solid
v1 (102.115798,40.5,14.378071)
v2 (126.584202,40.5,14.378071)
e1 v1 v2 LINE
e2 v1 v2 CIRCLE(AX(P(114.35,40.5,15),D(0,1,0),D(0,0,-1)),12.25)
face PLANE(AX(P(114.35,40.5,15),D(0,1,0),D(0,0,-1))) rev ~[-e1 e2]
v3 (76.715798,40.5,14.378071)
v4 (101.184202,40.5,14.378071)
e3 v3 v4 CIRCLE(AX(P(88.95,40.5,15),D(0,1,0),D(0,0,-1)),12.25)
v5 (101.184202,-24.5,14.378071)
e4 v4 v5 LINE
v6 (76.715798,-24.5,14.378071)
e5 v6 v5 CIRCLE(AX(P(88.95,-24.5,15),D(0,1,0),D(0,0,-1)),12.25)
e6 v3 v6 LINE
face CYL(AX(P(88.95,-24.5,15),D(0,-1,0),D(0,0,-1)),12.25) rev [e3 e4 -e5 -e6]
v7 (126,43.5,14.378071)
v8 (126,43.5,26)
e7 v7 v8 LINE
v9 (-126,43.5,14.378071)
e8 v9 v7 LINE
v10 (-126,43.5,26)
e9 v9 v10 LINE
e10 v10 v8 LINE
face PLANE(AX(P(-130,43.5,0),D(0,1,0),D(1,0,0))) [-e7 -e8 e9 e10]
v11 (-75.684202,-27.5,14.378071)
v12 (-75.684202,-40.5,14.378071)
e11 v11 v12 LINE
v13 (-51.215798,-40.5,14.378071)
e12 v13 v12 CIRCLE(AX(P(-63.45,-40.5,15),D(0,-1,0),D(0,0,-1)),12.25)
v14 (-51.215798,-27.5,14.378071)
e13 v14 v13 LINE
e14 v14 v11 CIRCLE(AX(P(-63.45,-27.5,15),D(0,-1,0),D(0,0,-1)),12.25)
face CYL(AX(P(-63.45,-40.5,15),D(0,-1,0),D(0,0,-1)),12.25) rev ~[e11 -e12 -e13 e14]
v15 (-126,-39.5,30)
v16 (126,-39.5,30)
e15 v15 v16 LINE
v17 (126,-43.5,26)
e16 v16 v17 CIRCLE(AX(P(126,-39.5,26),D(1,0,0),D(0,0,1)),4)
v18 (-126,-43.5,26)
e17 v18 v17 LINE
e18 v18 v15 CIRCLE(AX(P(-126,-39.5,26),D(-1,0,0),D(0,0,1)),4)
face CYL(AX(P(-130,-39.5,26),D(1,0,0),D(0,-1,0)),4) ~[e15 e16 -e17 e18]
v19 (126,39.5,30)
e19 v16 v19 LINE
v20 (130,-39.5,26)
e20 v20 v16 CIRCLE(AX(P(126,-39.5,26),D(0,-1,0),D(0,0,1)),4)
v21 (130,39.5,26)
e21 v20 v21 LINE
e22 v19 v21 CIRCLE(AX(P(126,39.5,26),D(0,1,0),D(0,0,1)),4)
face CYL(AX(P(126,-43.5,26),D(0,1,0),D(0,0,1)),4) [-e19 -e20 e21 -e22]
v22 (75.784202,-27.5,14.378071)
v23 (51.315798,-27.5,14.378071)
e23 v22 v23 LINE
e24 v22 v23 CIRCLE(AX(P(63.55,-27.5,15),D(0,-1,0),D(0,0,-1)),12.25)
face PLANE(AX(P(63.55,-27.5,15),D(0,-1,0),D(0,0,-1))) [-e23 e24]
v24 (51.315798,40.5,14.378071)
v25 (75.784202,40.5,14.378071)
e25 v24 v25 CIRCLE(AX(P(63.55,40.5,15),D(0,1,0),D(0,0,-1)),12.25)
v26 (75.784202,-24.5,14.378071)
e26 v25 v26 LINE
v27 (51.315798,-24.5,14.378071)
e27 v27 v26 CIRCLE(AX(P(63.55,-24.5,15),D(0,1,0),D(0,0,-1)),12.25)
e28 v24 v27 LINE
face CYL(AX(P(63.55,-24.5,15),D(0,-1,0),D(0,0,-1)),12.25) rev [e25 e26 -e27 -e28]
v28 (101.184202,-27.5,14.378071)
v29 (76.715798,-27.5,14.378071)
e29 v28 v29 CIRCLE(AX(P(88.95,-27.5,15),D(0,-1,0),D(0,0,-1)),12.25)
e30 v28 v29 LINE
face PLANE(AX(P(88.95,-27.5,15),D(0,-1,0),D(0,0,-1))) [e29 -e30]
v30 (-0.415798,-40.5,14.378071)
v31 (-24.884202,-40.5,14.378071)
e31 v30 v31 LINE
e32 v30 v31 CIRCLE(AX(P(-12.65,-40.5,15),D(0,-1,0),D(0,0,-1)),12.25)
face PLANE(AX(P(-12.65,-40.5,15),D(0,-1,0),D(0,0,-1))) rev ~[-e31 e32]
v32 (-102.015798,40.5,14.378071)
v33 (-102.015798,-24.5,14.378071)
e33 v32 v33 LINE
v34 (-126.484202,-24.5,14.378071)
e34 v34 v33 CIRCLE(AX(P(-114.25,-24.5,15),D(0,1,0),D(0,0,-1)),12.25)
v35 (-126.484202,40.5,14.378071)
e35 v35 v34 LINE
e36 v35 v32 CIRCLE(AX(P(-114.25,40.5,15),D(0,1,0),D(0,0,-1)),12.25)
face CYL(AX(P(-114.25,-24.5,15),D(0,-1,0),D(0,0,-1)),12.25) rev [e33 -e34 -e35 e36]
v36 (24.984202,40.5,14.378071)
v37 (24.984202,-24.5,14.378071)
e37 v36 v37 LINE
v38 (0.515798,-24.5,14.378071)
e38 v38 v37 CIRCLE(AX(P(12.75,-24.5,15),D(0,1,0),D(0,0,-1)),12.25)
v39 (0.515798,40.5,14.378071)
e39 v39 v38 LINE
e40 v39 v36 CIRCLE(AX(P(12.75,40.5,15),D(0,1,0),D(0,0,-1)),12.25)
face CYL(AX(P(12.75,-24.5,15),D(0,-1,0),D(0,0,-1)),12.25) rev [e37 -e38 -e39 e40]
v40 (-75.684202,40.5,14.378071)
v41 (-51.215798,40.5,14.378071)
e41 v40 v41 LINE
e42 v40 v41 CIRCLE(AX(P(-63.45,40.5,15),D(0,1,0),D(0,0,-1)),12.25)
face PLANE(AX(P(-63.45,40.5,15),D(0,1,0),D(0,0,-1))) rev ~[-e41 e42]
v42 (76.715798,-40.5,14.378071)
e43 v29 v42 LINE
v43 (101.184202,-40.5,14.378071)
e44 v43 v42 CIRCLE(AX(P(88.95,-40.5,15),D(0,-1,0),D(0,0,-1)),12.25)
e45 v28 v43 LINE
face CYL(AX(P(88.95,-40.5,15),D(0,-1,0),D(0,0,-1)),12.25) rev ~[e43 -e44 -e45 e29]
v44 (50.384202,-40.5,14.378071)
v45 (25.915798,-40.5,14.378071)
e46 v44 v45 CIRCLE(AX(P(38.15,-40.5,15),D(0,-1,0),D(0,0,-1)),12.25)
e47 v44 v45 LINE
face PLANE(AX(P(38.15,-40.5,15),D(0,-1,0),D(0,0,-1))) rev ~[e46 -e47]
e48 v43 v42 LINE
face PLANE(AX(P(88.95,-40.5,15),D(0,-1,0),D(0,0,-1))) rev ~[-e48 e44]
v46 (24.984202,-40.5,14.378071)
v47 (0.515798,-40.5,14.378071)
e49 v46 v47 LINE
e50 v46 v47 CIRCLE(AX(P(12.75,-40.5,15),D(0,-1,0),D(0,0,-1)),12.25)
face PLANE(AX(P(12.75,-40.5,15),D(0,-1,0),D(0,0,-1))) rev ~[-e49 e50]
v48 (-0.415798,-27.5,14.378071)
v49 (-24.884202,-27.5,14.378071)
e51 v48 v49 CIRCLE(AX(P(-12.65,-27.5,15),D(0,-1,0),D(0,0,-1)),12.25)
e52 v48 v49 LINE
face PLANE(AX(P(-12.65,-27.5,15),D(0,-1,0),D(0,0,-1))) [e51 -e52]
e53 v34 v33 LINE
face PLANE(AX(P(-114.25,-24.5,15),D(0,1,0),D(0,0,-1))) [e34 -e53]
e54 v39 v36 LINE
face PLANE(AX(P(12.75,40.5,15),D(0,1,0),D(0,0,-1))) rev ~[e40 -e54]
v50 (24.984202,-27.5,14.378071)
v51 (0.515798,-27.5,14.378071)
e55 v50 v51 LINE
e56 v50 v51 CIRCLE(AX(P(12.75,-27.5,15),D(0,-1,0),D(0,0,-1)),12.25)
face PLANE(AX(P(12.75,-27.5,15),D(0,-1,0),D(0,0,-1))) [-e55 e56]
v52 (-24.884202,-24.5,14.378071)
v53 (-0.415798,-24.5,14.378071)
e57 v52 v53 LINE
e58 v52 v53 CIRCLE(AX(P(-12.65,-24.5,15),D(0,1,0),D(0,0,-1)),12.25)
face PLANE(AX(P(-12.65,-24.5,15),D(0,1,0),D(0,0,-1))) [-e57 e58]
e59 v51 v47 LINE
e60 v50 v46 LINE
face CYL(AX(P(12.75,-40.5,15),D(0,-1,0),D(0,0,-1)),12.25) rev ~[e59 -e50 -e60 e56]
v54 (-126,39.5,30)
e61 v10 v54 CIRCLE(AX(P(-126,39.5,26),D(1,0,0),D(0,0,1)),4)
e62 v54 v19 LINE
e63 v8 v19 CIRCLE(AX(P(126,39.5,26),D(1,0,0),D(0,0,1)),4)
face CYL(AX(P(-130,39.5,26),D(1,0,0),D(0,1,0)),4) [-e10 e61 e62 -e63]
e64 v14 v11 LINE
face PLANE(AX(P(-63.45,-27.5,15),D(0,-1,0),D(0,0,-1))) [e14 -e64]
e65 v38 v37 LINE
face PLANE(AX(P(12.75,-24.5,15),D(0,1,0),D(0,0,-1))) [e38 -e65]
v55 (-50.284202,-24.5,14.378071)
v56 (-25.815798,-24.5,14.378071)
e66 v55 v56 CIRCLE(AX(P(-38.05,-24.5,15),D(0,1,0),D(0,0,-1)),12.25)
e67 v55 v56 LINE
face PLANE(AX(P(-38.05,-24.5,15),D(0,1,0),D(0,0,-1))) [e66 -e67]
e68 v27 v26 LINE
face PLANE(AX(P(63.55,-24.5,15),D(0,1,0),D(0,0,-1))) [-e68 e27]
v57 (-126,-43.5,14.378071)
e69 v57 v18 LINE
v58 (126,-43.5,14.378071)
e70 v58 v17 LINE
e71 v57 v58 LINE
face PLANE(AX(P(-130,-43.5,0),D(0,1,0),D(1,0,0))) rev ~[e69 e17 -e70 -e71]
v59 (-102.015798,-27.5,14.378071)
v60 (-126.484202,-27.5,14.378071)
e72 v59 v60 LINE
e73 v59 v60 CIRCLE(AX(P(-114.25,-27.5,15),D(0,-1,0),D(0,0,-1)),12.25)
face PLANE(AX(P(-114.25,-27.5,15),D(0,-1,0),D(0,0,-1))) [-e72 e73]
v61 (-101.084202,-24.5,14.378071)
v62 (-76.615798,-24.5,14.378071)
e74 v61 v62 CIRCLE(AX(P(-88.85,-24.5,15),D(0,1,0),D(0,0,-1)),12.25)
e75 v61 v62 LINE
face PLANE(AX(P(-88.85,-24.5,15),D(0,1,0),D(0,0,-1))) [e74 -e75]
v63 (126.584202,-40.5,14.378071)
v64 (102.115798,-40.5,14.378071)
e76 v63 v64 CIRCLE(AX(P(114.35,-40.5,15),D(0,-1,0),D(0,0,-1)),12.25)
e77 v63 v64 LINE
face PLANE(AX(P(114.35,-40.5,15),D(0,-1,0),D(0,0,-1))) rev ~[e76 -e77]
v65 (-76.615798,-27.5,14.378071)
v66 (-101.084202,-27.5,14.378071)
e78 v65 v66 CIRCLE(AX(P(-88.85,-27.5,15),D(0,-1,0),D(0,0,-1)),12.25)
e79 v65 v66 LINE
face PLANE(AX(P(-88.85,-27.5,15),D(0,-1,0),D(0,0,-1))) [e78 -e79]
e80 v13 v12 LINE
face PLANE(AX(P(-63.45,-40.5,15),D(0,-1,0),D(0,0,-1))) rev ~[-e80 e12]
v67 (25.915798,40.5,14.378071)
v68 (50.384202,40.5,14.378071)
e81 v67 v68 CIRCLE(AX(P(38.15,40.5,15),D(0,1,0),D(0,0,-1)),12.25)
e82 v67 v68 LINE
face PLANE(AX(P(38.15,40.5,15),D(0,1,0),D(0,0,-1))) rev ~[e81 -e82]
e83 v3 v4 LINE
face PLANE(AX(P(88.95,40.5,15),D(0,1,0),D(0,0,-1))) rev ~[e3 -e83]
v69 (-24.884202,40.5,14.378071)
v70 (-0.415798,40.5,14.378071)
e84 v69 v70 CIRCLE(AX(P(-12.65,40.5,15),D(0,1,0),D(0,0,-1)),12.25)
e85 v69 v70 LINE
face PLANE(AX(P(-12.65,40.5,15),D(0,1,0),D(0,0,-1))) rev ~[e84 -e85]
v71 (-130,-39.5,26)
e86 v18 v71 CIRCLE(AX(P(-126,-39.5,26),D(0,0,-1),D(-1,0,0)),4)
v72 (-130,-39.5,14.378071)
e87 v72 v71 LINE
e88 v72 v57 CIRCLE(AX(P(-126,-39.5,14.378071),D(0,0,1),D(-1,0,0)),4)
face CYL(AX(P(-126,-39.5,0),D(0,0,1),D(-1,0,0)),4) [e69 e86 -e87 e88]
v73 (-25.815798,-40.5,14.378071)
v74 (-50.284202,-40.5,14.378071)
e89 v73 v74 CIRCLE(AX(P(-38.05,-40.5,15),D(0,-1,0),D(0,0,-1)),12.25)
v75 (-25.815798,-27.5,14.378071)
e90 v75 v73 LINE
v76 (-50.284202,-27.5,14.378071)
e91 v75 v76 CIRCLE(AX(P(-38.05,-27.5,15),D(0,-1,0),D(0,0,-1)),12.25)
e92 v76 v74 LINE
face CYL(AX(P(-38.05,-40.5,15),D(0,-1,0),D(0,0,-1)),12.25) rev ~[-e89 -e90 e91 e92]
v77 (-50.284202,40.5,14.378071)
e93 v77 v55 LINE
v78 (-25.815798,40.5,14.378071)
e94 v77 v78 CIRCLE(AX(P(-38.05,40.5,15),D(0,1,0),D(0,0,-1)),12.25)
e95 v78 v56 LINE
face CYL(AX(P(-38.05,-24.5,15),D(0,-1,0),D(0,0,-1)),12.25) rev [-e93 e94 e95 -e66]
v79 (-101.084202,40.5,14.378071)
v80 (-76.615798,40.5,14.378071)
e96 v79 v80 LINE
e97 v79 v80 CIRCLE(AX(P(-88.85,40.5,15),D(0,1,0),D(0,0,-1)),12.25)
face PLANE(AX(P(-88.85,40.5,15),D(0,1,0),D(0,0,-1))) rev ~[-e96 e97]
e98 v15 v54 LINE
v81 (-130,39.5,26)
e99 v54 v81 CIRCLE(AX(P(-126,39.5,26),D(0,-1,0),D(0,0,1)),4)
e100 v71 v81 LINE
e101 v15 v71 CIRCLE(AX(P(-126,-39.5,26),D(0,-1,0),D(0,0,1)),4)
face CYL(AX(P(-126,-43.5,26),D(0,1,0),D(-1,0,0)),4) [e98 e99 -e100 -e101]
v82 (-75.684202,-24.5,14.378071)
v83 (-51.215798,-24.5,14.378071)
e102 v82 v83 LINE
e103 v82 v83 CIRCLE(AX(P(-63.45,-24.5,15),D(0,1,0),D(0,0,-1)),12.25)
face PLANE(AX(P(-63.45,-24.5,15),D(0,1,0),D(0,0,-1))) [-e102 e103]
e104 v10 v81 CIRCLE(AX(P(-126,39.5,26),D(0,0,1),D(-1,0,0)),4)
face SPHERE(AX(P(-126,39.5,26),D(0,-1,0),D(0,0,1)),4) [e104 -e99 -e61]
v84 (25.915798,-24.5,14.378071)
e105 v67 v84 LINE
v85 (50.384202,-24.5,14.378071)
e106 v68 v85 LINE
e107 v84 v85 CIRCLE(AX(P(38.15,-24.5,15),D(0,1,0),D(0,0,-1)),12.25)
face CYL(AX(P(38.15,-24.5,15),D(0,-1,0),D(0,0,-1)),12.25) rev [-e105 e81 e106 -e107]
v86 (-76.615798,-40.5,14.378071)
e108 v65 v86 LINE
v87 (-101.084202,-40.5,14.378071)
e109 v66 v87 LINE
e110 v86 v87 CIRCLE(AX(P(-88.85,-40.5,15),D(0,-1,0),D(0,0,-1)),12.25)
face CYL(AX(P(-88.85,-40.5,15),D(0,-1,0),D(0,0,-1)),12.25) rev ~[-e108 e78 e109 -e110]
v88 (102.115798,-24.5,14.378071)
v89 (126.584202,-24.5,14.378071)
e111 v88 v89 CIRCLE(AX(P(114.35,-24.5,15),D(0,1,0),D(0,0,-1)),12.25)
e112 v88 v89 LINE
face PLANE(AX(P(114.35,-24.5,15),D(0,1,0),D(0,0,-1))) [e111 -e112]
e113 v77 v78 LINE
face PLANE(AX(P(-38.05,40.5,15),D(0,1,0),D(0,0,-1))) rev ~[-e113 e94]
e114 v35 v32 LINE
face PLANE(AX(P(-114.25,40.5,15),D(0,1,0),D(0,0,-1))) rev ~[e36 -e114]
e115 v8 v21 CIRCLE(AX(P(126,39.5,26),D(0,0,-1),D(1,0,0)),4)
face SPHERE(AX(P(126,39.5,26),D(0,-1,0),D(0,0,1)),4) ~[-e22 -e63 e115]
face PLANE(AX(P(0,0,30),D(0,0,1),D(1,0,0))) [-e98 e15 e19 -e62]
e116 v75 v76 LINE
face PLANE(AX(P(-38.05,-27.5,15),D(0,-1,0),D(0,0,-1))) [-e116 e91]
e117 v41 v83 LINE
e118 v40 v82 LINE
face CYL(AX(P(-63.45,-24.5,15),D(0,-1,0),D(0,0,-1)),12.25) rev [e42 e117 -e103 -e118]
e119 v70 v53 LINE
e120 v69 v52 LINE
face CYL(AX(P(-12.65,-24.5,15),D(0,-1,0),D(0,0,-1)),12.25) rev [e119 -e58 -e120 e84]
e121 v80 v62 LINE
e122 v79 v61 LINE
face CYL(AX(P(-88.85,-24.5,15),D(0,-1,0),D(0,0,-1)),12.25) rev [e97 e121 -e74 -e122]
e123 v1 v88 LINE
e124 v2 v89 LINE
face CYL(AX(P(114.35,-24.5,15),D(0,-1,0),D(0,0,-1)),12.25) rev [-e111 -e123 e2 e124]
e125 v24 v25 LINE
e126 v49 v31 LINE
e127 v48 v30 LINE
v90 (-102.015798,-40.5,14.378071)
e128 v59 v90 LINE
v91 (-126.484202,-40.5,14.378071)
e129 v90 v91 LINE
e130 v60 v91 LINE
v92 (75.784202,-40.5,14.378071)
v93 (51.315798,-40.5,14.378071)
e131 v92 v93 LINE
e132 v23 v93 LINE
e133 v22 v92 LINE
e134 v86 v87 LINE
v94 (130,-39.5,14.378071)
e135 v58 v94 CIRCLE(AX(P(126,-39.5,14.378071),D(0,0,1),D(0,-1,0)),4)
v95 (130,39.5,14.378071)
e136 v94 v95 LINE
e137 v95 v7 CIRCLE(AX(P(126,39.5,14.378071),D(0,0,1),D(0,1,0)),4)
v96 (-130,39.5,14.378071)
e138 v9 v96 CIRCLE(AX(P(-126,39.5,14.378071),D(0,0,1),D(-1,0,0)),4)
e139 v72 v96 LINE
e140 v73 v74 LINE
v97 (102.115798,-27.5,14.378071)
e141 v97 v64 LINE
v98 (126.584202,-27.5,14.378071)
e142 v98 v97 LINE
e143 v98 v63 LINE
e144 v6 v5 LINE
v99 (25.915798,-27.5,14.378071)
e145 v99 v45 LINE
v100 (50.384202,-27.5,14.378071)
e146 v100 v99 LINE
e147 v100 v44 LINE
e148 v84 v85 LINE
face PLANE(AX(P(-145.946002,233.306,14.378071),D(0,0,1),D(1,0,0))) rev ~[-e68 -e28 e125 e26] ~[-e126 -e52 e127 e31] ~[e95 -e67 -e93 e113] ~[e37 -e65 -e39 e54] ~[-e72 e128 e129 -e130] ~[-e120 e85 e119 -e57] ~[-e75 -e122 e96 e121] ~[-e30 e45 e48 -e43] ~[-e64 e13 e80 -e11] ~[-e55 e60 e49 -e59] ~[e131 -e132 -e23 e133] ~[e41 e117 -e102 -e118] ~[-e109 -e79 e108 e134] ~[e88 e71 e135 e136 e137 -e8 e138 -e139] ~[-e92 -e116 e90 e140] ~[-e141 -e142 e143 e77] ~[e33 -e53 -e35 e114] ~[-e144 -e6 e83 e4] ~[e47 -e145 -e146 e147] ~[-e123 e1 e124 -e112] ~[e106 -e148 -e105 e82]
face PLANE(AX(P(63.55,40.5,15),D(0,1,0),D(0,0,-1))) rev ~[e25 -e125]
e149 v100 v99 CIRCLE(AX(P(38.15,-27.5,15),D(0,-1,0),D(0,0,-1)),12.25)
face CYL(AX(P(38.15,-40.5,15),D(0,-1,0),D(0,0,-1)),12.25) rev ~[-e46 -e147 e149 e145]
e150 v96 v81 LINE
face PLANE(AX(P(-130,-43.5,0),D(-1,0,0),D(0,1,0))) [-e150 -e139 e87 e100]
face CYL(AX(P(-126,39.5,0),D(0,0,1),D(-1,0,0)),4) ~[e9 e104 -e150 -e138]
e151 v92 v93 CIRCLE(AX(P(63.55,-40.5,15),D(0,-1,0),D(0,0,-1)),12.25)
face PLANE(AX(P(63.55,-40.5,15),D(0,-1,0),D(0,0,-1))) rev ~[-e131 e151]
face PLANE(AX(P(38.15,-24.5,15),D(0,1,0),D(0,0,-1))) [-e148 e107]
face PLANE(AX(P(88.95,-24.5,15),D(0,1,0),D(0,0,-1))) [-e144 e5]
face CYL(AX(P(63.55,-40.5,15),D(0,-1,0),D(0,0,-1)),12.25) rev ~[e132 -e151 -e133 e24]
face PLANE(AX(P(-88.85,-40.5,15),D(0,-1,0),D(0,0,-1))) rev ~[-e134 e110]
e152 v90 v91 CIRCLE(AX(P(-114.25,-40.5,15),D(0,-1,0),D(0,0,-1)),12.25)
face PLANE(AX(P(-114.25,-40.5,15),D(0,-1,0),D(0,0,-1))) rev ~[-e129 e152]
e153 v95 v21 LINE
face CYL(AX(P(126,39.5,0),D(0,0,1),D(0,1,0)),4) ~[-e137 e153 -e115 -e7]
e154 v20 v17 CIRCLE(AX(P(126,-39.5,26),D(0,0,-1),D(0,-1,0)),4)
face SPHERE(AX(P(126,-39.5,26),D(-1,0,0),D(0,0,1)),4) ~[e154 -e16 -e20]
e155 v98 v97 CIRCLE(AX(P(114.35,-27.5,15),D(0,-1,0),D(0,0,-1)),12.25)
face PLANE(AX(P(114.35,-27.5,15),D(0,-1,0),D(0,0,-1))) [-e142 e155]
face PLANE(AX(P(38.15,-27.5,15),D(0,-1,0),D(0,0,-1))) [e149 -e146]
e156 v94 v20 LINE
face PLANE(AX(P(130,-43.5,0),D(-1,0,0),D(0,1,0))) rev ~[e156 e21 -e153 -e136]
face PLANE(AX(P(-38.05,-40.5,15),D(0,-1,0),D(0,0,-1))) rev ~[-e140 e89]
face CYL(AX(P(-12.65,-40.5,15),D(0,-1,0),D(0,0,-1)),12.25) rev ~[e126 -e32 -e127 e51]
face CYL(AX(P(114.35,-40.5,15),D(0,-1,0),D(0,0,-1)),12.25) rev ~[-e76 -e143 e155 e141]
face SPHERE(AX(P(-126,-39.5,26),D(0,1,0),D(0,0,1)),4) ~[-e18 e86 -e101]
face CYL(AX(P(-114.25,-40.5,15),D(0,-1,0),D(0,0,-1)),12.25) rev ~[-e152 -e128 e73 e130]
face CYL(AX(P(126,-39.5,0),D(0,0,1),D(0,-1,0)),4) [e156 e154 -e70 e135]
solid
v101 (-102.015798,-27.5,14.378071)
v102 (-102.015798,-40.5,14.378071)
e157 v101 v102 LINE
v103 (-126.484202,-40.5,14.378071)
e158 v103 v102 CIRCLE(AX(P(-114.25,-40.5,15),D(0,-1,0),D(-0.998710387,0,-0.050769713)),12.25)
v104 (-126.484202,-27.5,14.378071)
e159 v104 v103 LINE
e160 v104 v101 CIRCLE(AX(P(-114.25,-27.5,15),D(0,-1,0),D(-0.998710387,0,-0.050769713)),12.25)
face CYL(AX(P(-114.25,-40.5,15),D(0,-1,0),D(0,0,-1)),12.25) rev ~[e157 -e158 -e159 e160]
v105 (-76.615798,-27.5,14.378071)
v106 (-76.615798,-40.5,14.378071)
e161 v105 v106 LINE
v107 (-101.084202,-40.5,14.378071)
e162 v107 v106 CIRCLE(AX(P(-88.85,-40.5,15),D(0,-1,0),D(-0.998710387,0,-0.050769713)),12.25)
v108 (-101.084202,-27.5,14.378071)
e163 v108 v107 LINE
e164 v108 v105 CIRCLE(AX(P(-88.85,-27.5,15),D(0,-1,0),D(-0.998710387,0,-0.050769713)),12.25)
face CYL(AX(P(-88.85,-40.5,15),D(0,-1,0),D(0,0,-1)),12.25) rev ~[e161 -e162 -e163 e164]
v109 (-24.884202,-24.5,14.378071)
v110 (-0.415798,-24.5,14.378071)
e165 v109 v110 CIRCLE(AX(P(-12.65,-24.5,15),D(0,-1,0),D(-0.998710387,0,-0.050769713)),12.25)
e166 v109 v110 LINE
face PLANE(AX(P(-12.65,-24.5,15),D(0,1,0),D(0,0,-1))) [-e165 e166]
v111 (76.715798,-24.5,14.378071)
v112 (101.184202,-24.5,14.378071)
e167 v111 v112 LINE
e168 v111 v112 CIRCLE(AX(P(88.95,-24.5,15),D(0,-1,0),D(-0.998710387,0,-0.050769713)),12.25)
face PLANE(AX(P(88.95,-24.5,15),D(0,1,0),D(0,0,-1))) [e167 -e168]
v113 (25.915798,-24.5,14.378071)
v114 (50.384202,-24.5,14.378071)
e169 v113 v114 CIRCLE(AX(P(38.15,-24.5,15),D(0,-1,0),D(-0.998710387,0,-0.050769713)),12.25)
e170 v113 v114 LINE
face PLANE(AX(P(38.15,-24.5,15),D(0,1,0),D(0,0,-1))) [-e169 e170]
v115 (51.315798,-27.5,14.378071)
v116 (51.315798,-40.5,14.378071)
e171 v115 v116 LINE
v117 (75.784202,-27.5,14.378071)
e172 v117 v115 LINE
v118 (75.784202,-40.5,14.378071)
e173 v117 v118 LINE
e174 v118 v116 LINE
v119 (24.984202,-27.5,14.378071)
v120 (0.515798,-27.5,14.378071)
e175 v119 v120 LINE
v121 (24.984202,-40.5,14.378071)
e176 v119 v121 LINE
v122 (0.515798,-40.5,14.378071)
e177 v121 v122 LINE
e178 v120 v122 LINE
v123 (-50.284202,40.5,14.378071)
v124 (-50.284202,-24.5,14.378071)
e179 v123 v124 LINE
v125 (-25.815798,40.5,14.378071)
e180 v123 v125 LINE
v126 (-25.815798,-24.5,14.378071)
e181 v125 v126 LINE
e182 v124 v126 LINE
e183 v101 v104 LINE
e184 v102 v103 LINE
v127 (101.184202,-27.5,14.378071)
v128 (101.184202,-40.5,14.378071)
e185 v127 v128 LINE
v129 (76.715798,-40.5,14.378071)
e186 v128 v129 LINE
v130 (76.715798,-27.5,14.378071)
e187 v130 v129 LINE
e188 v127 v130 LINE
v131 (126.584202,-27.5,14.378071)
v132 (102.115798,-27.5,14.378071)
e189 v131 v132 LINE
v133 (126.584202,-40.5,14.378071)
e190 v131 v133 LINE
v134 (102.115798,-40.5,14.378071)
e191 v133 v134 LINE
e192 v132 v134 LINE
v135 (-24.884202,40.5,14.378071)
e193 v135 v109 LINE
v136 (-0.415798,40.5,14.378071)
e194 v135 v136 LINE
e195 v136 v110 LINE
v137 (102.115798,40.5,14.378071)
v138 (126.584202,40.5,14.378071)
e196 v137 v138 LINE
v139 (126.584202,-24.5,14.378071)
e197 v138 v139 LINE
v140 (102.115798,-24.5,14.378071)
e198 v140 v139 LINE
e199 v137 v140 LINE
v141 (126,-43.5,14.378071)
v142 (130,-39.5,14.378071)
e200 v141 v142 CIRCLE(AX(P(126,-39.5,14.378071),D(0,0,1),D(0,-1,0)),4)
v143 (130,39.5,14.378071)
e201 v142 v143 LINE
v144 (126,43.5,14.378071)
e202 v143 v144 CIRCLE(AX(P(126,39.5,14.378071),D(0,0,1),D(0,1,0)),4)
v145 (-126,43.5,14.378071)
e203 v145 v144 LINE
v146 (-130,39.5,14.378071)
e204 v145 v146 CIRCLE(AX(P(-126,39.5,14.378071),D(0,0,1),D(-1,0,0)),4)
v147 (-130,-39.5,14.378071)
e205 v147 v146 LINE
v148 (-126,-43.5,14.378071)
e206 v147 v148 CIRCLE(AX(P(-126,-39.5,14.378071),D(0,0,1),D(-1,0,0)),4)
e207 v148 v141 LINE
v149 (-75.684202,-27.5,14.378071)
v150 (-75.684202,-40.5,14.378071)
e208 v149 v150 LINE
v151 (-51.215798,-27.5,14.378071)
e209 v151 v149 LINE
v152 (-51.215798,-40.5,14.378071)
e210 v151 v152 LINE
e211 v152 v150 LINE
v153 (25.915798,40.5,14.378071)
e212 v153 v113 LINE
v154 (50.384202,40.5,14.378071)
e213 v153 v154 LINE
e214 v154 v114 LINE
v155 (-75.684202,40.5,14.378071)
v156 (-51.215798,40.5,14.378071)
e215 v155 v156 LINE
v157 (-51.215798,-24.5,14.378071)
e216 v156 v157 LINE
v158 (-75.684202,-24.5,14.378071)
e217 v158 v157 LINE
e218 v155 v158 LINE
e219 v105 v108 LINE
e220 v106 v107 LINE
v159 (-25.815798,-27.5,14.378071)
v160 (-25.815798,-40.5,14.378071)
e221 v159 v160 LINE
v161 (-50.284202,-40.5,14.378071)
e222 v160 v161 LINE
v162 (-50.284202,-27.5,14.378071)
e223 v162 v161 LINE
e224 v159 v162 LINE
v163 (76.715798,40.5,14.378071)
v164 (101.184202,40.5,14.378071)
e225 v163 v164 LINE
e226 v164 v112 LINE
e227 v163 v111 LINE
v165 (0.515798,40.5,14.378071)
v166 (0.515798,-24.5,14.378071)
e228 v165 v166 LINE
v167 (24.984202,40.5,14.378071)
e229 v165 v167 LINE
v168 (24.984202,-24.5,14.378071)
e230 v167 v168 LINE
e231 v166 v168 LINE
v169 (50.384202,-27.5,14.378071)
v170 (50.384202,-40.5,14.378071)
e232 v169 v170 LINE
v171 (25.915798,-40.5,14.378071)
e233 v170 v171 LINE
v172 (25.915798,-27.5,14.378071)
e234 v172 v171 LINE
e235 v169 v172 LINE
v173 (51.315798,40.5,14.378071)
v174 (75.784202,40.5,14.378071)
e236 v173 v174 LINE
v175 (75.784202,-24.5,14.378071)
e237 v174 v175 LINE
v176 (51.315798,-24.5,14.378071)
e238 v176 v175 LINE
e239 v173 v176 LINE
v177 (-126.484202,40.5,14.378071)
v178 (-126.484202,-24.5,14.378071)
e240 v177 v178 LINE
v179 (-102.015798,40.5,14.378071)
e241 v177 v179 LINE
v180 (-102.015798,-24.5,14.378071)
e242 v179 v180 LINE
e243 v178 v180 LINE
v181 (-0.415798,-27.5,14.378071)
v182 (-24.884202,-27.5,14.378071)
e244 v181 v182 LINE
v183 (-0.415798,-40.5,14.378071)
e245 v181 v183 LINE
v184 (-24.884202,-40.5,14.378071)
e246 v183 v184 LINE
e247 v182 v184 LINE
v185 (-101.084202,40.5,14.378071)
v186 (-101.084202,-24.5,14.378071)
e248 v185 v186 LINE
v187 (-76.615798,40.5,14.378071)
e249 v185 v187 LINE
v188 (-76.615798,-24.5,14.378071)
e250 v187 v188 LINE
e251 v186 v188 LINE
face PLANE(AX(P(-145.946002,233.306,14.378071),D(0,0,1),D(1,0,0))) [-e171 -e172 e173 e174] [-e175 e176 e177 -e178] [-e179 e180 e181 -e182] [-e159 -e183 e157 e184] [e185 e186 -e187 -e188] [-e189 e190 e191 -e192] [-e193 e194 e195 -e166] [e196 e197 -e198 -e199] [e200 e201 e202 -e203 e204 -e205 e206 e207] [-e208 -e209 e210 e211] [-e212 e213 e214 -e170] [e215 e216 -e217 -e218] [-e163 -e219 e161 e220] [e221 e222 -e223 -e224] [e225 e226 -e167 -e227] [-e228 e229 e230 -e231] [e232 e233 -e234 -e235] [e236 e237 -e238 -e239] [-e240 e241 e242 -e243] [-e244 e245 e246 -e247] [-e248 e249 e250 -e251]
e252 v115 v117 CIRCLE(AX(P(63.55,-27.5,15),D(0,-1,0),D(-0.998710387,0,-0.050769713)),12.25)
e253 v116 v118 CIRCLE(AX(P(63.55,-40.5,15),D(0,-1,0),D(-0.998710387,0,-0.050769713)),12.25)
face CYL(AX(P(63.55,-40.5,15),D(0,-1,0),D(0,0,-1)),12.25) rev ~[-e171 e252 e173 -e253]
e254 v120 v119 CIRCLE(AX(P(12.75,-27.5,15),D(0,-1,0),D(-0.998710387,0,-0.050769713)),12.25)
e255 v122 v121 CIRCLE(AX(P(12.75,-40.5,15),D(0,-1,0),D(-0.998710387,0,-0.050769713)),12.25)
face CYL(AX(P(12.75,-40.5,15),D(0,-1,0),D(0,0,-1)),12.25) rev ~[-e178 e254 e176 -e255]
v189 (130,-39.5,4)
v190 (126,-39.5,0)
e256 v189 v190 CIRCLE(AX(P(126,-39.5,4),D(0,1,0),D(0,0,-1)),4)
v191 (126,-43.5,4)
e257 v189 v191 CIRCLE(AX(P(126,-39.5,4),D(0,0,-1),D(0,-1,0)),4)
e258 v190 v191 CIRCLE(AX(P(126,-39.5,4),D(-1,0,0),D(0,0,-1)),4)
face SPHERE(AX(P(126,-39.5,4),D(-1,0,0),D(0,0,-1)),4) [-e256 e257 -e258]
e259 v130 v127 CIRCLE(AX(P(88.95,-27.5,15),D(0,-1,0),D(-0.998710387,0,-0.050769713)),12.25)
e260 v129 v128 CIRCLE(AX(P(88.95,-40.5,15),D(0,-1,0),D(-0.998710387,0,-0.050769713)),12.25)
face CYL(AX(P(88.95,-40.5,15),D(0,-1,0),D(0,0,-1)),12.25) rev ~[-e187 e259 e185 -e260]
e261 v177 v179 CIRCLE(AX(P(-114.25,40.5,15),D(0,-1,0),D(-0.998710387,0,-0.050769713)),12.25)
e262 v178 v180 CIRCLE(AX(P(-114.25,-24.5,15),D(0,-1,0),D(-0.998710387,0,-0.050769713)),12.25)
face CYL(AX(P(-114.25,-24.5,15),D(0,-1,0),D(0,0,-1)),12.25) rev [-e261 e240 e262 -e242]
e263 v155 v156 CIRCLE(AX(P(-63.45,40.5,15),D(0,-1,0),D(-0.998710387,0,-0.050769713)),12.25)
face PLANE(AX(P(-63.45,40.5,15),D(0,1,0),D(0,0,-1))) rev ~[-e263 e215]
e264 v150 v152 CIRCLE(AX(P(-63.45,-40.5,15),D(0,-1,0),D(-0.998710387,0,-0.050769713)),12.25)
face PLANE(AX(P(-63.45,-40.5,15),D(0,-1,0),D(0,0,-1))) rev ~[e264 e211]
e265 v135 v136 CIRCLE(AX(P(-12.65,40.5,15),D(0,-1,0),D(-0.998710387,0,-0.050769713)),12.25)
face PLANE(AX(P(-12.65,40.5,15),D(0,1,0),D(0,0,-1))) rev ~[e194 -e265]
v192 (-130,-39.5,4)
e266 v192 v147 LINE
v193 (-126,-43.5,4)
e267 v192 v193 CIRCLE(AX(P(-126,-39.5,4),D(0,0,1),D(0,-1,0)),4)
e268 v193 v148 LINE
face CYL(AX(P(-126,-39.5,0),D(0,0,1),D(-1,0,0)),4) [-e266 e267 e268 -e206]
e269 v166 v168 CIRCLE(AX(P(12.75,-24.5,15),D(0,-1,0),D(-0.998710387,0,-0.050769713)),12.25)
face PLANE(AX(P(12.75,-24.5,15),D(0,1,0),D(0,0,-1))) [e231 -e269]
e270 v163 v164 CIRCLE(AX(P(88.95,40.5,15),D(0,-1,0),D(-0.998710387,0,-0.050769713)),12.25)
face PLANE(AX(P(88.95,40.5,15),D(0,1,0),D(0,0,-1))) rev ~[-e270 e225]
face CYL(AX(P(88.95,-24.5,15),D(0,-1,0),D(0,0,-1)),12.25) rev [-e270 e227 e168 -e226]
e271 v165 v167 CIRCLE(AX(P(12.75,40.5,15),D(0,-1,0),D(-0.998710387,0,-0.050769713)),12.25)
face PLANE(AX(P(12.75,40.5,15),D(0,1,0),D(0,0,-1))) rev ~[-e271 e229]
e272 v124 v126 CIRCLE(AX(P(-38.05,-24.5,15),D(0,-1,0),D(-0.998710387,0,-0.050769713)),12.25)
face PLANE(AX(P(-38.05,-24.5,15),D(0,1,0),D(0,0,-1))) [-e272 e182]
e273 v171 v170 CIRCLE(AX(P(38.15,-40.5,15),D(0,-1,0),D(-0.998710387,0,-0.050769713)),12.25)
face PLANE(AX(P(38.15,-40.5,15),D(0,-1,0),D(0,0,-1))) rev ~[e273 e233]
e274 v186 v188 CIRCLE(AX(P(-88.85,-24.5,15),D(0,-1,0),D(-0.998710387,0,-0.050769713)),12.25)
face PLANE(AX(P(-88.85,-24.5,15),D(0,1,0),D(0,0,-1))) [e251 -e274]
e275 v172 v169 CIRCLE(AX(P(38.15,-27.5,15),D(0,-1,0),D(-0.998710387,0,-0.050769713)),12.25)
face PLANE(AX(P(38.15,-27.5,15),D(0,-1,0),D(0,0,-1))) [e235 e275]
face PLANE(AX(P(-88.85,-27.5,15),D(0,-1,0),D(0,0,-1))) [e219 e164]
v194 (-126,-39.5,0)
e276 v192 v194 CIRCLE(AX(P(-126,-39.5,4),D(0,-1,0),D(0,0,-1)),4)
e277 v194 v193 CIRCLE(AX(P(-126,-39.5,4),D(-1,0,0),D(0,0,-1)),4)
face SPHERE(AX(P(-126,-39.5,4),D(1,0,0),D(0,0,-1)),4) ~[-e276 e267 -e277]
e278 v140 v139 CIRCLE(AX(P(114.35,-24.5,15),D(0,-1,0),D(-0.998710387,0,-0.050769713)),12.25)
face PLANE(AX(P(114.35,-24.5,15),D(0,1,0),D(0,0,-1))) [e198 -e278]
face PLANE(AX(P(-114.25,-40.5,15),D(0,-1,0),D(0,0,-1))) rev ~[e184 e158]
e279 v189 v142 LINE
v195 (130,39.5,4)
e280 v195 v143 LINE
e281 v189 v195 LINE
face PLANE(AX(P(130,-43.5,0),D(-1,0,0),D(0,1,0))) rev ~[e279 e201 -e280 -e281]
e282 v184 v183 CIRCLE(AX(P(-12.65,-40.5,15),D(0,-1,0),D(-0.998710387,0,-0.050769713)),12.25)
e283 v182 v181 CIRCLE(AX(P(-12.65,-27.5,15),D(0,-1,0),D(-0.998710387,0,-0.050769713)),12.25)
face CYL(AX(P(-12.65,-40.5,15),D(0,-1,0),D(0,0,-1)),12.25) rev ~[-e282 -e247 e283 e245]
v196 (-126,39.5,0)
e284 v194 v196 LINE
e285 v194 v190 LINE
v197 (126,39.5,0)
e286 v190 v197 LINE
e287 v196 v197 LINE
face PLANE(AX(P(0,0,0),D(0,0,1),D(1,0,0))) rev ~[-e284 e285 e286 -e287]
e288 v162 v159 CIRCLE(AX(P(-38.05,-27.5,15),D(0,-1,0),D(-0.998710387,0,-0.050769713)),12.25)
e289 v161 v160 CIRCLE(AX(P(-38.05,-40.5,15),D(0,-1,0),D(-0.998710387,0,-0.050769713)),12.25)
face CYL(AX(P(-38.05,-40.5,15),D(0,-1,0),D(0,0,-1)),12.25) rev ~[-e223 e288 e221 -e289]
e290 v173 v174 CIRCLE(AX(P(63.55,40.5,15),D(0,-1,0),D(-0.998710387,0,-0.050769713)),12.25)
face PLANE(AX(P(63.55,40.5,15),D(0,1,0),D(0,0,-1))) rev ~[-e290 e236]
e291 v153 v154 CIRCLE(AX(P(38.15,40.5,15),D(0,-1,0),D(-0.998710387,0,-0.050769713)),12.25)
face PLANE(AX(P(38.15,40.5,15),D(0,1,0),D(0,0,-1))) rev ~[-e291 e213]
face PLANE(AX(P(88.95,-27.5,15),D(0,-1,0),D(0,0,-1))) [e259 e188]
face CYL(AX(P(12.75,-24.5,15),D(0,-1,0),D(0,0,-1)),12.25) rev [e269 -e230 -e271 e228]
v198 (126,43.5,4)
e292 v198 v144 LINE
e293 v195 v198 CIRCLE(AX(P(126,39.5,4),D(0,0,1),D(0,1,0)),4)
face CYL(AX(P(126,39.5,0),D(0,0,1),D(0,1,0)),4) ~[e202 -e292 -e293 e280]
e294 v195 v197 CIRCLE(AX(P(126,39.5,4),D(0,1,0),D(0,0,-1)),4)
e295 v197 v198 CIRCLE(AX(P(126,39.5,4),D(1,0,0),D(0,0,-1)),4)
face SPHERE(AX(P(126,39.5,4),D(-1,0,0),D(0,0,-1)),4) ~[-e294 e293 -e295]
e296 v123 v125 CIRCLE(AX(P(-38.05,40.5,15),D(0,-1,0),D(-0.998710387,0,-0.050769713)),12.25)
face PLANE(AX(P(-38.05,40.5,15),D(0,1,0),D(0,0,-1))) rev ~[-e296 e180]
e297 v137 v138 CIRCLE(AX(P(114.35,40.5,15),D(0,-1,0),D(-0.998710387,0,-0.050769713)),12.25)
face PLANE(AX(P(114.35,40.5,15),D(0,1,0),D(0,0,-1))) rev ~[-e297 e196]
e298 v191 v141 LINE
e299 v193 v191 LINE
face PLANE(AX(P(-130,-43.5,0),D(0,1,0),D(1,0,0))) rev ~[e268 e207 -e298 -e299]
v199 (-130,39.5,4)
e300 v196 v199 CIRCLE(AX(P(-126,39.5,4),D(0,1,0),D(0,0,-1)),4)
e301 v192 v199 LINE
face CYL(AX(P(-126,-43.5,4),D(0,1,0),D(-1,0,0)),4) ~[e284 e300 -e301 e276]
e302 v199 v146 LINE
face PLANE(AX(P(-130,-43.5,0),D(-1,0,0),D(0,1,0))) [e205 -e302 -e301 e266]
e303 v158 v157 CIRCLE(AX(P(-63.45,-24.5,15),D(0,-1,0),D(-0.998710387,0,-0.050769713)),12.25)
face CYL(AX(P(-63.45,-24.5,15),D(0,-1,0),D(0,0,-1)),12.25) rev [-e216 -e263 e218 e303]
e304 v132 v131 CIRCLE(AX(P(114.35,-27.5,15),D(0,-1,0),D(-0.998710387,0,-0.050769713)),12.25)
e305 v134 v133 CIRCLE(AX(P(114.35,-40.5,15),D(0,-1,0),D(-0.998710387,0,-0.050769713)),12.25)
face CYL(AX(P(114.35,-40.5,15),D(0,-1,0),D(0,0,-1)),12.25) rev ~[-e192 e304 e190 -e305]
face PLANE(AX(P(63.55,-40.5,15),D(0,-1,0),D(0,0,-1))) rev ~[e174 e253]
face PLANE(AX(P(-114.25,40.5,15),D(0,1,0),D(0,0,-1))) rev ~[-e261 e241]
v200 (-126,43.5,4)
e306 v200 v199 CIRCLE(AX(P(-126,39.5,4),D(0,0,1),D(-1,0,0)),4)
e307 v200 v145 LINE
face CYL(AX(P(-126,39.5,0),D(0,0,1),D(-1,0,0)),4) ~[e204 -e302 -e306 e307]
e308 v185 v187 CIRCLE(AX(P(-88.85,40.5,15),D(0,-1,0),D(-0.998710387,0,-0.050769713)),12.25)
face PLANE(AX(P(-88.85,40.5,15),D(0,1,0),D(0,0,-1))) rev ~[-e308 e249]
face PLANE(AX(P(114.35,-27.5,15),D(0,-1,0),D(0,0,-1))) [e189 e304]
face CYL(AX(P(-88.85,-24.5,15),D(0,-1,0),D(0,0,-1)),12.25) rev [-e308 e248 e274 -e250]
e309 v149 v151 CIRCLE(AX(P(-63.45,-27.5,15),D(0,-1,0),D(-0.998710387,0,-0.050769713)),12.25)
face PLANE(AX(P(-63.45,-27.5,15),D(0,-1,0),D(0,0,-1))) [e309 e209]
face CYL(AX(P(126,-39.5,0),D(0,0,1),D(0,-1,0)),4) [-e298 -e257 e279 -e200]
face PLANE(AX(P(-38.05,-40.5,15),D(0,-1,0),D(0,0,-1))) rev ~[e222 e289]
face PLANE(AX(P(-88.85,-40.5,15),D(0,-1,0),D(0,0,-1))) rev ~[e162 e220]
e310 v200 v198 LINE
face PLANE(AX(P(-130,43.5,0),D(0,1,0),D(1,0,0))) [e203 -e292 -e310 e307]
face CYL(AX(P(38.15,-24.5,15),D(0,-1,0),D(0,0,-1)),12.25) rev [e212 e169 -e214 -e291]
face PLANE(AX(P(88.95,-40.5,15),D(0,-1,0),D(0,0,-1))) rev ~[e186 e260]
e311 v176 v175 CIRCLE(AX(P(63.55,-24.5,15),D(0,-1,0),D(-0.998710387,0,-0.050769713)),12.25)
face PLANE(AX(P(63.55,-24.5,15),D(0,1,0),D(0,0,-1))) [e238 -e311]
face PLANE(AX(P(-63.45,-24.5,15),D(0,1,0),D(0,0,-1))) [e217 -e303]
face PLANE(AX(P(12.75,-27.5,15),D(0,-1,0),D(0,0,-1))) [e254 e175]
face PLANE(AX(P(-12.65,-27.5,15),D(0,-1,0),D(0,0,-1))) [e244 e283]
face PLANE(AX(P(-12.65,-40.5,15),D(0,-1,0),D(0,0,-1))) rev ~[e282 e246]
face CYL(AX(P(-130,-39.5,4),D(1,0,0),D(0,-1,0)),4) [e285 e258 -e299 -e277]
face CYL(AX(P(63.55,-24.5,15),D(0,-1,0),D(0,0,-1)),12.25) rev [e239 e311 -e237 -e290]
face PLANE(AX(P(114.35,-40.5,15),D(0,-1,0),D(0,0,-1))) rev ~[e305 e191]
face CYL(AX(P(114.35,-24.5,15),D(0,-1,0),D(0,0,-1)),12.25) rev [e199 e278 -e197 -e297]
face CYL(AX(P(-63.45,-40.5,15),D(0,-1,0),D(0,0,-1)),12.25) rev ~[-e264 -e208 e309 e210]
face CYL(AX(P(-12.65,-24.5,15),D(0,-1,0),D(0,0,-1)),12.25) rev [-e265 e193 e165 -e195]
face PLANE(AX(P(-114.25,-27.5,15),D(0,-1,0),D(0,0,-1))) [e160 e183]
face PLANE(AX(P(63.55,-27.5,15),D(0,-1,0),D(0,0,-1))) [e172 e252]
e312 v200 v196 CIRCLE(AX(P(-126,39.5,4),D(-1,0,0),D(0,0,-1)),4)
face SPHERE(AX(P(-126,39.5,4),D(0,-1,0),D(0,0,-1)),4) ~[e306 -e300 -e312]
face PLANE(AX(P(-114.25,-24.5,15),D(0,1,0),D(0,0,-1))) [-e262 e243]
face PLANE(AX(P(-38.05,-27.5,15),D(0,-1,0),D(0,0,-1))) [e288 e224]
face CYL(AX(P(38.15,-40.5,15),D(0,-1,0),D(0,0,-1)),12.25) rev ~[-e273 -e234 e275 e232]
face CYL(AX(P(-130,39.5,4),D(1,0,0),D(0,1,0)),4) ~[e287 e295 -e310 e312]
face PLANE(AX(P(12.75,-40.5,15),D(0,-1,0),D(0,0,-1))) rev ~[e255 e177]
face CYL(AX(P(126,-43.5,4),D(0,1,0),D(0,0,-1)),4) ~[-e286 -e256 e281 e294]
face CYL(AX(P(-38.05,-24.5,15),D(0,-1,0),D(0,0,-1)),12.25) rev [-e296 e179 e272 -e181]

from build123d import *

# Parameters (mm, degrees)
SKETCH1_W              = 260
SKETCH1_H              = 87
BOSS_EXTRUDE1_DEPTH    = 30
CUT_EXTRUDE1_START     = -3
SKETCH7_R              = 12.25
CUT_EXTRUDE1_DEPTH     = 13
CUT_EXTRUDE2_START     = -68
SKETCH9_R              = 12.25
CUT_EXTRUDE2_DEPTH     = 65
FILLET1_R              = 4
SPLIT1_SURFACE_1_BACK  = 276.806
SPLIT1_SURFACE_1_DEPTH = 553.612
SPLIT1_SURFACE_2_BACK  = 276.806
SPLIT1_SURFACE_2_DEPTH = 553.612


with BuildPart() as part:
    # Sketch1 → Boss-Extrude1 (new body)
    with BuildSketch(Plane.XY):
        Rectangle(SKETCH1_W, SKETCH1_H)
    extrude(amount=BOSS_EXTRUDE1_DEPTH)

    # Sketch7 → Cut-Extrude1 (cut)
    with BuildSketch(Plane.XZ.offset(43.5).offset(CUT_EXTRUDE1_START)):
        with Locations(Location((-114.25, 15, 0), (0, 0, 270))):
            Circle(SKETCH7_R)
        with Locations(Location((-88.85, 15, 0), (0, 0, 270))):
            Circle(SKETCH7_R)
        with Locations(Location((-63.45, 15, 0), (0, 0, 270))):
            Circle(SKETCH7_R)
        with Locations(Location((-38.05, 15, 0), (0, 0, 270))):
            Circle(SKETCH7_R)
        with Locations(Location((-12.65, 15, 0), (0, 0, 270))):
            Circle(SKETCH7_R)
        with Locations(Location((12.75, 15, 0), (0, 0, 270))):
            Circle(SKETCH7_R)
        with Locations(Location((38.15, 15, 0), (0, 0, 270))):
            Circle(SKETCH7_R)
        with Locations(Location((63.55, 15, 0), (0, 0, 270))):
            Circle(SKETCH7_R)
        with Locations(Location((88.95, 15, 0), (0, 0, 270))):
            Circle(SKETCH7_R)
        with Locations(Location((114.35, 15, 0), (0, 0, 270))):
            Circle(SKETCH7_R)
    extrude(amount=-CUT_EXTRUDE1_DEPTH, mode=Mode.SUBTRACT)

    # Sketch9 → Cut-Extrude2 (cut)
    with BuildSketch(Plane(origin=(0, 43.5, 0), x_dir=(1, 0, 0), z_dir=(0, 1, 0)).offset(CUT_EXTRUDE2_START)):
        with Locations(Location((-114.25, -15, 0), (0, 0, 90))):
            Circle(SKETCH9_R)
        with Locations(Location((-88.85, -15, 0), (0, 0, 90))):
            Circle(SKETCH9_R)
        with Locations(Location((-63.45, -15, 0), (0, 0, 90))):
            Circle(SKETCH9_R)
        with Locations(Location((-38.05, -15, 0), (0, 0, 90))):
            Circle(SKETCH9_R)
        with Locations(Location((-12.65, -15, 0), (0, 0, 90))):
            Circle(SKETCH9_R)
        with Locations(Location((12.75, -15, 0), (0, 0, 90))):
            Circle(SKETCH9_R)
        with Locations(Location((38.15, -15, 0), (0, 0, 90))):
            Circle(SKETCH9_R)
        with Locations(Location((63.55, -15, 0), (0, 0, 90))):
            Circle(SKETCH9_R)
        with Locations(Location((88.95, -15, 0), (0, 0, 90))):
            Circle(SKETCH9_R)
        with Locations(Location((114.35, -15, 0), (0, 0, 90))):
            Circle(SKETCH9_R)
    extrude(amount=CUT_EXTRUDE2_DEPTH, mode=Mode.SUBTRACT)

    # Fillet1
    fillet1_edges = [part.edges().sort_by_distance(p)[0] for p in [
        (-130, 0, 30),
        (0, -43.5, 30),
        (130, 0, 30),
        (0, -43.5, 0),
        (-130, 0, 0),
        (0, 43.5, 0),
        (130, 0, 0),
        (0, 43.5, 30),
        (130, -43.5, 15),
        (-130, -43.5, 15),
        (-130, 43.5, 15),
        (130, 43.5, 15),
    ]]
    fillet(fillet1_edges, radius=FILLET1_R)


with BuildPart() as body_2:
    # Split1: the piece behind the surface
    add(part.part)
    # Split1 surface: a surface, the sketch's curves swept straight by 553.612 mm
    with BuildLine(Plane.XZ.offset(43.5).offset(-SPLIT1_SURFACE_1_BACK), mode=Mode.PRIVATE) as split1_surface_1_path:
        Line((-145.946002459, 14.378071012), (167.091588043, 14.378071012))
    split1_surface_1 = Shell.extrude(split1_surface_1_path.wire(), (0 * SPLIT1_SURFACE_1_DEPTH, -1 * SPLIT1_SURFACE_1_DEPTH, 0 * SPLIT1_SURFACE_1_DEPTH))
    split(bisect_by=split1_surface_1, keep=Keep.BOTTOM)


with BuildPart() as part_1:
    add(part.part)

    # Split1: split by a surface, the side it looks to stays
    # Split1 surface: a surface, the sketch's curves swept straight by 553.612 mm
    with BuildLine(Plane.XZ.offset(43.5).offset(-SPLIT1_SURFACE_2_BACK), mode=Mode.PRIVATE) as split1_surface_2_path:
        Line((-145.946002459, 14.378071012), (167.091588043, 14.378071012))
    split1_surface_2 = Shell.extrude(split1_surface_2_path.wire(), (0 * SPLIT1_SURFACE_2_DEPTH, -1 * SPLIT1_SURFACE_2_DEPTH, 0 * SPLIT1_SURFACE_2_DEPTH))
    split(bisect_by=split1_surface_2, keep=Keep.TOP)


solid = Compound([body_2.part, part_1.part])
